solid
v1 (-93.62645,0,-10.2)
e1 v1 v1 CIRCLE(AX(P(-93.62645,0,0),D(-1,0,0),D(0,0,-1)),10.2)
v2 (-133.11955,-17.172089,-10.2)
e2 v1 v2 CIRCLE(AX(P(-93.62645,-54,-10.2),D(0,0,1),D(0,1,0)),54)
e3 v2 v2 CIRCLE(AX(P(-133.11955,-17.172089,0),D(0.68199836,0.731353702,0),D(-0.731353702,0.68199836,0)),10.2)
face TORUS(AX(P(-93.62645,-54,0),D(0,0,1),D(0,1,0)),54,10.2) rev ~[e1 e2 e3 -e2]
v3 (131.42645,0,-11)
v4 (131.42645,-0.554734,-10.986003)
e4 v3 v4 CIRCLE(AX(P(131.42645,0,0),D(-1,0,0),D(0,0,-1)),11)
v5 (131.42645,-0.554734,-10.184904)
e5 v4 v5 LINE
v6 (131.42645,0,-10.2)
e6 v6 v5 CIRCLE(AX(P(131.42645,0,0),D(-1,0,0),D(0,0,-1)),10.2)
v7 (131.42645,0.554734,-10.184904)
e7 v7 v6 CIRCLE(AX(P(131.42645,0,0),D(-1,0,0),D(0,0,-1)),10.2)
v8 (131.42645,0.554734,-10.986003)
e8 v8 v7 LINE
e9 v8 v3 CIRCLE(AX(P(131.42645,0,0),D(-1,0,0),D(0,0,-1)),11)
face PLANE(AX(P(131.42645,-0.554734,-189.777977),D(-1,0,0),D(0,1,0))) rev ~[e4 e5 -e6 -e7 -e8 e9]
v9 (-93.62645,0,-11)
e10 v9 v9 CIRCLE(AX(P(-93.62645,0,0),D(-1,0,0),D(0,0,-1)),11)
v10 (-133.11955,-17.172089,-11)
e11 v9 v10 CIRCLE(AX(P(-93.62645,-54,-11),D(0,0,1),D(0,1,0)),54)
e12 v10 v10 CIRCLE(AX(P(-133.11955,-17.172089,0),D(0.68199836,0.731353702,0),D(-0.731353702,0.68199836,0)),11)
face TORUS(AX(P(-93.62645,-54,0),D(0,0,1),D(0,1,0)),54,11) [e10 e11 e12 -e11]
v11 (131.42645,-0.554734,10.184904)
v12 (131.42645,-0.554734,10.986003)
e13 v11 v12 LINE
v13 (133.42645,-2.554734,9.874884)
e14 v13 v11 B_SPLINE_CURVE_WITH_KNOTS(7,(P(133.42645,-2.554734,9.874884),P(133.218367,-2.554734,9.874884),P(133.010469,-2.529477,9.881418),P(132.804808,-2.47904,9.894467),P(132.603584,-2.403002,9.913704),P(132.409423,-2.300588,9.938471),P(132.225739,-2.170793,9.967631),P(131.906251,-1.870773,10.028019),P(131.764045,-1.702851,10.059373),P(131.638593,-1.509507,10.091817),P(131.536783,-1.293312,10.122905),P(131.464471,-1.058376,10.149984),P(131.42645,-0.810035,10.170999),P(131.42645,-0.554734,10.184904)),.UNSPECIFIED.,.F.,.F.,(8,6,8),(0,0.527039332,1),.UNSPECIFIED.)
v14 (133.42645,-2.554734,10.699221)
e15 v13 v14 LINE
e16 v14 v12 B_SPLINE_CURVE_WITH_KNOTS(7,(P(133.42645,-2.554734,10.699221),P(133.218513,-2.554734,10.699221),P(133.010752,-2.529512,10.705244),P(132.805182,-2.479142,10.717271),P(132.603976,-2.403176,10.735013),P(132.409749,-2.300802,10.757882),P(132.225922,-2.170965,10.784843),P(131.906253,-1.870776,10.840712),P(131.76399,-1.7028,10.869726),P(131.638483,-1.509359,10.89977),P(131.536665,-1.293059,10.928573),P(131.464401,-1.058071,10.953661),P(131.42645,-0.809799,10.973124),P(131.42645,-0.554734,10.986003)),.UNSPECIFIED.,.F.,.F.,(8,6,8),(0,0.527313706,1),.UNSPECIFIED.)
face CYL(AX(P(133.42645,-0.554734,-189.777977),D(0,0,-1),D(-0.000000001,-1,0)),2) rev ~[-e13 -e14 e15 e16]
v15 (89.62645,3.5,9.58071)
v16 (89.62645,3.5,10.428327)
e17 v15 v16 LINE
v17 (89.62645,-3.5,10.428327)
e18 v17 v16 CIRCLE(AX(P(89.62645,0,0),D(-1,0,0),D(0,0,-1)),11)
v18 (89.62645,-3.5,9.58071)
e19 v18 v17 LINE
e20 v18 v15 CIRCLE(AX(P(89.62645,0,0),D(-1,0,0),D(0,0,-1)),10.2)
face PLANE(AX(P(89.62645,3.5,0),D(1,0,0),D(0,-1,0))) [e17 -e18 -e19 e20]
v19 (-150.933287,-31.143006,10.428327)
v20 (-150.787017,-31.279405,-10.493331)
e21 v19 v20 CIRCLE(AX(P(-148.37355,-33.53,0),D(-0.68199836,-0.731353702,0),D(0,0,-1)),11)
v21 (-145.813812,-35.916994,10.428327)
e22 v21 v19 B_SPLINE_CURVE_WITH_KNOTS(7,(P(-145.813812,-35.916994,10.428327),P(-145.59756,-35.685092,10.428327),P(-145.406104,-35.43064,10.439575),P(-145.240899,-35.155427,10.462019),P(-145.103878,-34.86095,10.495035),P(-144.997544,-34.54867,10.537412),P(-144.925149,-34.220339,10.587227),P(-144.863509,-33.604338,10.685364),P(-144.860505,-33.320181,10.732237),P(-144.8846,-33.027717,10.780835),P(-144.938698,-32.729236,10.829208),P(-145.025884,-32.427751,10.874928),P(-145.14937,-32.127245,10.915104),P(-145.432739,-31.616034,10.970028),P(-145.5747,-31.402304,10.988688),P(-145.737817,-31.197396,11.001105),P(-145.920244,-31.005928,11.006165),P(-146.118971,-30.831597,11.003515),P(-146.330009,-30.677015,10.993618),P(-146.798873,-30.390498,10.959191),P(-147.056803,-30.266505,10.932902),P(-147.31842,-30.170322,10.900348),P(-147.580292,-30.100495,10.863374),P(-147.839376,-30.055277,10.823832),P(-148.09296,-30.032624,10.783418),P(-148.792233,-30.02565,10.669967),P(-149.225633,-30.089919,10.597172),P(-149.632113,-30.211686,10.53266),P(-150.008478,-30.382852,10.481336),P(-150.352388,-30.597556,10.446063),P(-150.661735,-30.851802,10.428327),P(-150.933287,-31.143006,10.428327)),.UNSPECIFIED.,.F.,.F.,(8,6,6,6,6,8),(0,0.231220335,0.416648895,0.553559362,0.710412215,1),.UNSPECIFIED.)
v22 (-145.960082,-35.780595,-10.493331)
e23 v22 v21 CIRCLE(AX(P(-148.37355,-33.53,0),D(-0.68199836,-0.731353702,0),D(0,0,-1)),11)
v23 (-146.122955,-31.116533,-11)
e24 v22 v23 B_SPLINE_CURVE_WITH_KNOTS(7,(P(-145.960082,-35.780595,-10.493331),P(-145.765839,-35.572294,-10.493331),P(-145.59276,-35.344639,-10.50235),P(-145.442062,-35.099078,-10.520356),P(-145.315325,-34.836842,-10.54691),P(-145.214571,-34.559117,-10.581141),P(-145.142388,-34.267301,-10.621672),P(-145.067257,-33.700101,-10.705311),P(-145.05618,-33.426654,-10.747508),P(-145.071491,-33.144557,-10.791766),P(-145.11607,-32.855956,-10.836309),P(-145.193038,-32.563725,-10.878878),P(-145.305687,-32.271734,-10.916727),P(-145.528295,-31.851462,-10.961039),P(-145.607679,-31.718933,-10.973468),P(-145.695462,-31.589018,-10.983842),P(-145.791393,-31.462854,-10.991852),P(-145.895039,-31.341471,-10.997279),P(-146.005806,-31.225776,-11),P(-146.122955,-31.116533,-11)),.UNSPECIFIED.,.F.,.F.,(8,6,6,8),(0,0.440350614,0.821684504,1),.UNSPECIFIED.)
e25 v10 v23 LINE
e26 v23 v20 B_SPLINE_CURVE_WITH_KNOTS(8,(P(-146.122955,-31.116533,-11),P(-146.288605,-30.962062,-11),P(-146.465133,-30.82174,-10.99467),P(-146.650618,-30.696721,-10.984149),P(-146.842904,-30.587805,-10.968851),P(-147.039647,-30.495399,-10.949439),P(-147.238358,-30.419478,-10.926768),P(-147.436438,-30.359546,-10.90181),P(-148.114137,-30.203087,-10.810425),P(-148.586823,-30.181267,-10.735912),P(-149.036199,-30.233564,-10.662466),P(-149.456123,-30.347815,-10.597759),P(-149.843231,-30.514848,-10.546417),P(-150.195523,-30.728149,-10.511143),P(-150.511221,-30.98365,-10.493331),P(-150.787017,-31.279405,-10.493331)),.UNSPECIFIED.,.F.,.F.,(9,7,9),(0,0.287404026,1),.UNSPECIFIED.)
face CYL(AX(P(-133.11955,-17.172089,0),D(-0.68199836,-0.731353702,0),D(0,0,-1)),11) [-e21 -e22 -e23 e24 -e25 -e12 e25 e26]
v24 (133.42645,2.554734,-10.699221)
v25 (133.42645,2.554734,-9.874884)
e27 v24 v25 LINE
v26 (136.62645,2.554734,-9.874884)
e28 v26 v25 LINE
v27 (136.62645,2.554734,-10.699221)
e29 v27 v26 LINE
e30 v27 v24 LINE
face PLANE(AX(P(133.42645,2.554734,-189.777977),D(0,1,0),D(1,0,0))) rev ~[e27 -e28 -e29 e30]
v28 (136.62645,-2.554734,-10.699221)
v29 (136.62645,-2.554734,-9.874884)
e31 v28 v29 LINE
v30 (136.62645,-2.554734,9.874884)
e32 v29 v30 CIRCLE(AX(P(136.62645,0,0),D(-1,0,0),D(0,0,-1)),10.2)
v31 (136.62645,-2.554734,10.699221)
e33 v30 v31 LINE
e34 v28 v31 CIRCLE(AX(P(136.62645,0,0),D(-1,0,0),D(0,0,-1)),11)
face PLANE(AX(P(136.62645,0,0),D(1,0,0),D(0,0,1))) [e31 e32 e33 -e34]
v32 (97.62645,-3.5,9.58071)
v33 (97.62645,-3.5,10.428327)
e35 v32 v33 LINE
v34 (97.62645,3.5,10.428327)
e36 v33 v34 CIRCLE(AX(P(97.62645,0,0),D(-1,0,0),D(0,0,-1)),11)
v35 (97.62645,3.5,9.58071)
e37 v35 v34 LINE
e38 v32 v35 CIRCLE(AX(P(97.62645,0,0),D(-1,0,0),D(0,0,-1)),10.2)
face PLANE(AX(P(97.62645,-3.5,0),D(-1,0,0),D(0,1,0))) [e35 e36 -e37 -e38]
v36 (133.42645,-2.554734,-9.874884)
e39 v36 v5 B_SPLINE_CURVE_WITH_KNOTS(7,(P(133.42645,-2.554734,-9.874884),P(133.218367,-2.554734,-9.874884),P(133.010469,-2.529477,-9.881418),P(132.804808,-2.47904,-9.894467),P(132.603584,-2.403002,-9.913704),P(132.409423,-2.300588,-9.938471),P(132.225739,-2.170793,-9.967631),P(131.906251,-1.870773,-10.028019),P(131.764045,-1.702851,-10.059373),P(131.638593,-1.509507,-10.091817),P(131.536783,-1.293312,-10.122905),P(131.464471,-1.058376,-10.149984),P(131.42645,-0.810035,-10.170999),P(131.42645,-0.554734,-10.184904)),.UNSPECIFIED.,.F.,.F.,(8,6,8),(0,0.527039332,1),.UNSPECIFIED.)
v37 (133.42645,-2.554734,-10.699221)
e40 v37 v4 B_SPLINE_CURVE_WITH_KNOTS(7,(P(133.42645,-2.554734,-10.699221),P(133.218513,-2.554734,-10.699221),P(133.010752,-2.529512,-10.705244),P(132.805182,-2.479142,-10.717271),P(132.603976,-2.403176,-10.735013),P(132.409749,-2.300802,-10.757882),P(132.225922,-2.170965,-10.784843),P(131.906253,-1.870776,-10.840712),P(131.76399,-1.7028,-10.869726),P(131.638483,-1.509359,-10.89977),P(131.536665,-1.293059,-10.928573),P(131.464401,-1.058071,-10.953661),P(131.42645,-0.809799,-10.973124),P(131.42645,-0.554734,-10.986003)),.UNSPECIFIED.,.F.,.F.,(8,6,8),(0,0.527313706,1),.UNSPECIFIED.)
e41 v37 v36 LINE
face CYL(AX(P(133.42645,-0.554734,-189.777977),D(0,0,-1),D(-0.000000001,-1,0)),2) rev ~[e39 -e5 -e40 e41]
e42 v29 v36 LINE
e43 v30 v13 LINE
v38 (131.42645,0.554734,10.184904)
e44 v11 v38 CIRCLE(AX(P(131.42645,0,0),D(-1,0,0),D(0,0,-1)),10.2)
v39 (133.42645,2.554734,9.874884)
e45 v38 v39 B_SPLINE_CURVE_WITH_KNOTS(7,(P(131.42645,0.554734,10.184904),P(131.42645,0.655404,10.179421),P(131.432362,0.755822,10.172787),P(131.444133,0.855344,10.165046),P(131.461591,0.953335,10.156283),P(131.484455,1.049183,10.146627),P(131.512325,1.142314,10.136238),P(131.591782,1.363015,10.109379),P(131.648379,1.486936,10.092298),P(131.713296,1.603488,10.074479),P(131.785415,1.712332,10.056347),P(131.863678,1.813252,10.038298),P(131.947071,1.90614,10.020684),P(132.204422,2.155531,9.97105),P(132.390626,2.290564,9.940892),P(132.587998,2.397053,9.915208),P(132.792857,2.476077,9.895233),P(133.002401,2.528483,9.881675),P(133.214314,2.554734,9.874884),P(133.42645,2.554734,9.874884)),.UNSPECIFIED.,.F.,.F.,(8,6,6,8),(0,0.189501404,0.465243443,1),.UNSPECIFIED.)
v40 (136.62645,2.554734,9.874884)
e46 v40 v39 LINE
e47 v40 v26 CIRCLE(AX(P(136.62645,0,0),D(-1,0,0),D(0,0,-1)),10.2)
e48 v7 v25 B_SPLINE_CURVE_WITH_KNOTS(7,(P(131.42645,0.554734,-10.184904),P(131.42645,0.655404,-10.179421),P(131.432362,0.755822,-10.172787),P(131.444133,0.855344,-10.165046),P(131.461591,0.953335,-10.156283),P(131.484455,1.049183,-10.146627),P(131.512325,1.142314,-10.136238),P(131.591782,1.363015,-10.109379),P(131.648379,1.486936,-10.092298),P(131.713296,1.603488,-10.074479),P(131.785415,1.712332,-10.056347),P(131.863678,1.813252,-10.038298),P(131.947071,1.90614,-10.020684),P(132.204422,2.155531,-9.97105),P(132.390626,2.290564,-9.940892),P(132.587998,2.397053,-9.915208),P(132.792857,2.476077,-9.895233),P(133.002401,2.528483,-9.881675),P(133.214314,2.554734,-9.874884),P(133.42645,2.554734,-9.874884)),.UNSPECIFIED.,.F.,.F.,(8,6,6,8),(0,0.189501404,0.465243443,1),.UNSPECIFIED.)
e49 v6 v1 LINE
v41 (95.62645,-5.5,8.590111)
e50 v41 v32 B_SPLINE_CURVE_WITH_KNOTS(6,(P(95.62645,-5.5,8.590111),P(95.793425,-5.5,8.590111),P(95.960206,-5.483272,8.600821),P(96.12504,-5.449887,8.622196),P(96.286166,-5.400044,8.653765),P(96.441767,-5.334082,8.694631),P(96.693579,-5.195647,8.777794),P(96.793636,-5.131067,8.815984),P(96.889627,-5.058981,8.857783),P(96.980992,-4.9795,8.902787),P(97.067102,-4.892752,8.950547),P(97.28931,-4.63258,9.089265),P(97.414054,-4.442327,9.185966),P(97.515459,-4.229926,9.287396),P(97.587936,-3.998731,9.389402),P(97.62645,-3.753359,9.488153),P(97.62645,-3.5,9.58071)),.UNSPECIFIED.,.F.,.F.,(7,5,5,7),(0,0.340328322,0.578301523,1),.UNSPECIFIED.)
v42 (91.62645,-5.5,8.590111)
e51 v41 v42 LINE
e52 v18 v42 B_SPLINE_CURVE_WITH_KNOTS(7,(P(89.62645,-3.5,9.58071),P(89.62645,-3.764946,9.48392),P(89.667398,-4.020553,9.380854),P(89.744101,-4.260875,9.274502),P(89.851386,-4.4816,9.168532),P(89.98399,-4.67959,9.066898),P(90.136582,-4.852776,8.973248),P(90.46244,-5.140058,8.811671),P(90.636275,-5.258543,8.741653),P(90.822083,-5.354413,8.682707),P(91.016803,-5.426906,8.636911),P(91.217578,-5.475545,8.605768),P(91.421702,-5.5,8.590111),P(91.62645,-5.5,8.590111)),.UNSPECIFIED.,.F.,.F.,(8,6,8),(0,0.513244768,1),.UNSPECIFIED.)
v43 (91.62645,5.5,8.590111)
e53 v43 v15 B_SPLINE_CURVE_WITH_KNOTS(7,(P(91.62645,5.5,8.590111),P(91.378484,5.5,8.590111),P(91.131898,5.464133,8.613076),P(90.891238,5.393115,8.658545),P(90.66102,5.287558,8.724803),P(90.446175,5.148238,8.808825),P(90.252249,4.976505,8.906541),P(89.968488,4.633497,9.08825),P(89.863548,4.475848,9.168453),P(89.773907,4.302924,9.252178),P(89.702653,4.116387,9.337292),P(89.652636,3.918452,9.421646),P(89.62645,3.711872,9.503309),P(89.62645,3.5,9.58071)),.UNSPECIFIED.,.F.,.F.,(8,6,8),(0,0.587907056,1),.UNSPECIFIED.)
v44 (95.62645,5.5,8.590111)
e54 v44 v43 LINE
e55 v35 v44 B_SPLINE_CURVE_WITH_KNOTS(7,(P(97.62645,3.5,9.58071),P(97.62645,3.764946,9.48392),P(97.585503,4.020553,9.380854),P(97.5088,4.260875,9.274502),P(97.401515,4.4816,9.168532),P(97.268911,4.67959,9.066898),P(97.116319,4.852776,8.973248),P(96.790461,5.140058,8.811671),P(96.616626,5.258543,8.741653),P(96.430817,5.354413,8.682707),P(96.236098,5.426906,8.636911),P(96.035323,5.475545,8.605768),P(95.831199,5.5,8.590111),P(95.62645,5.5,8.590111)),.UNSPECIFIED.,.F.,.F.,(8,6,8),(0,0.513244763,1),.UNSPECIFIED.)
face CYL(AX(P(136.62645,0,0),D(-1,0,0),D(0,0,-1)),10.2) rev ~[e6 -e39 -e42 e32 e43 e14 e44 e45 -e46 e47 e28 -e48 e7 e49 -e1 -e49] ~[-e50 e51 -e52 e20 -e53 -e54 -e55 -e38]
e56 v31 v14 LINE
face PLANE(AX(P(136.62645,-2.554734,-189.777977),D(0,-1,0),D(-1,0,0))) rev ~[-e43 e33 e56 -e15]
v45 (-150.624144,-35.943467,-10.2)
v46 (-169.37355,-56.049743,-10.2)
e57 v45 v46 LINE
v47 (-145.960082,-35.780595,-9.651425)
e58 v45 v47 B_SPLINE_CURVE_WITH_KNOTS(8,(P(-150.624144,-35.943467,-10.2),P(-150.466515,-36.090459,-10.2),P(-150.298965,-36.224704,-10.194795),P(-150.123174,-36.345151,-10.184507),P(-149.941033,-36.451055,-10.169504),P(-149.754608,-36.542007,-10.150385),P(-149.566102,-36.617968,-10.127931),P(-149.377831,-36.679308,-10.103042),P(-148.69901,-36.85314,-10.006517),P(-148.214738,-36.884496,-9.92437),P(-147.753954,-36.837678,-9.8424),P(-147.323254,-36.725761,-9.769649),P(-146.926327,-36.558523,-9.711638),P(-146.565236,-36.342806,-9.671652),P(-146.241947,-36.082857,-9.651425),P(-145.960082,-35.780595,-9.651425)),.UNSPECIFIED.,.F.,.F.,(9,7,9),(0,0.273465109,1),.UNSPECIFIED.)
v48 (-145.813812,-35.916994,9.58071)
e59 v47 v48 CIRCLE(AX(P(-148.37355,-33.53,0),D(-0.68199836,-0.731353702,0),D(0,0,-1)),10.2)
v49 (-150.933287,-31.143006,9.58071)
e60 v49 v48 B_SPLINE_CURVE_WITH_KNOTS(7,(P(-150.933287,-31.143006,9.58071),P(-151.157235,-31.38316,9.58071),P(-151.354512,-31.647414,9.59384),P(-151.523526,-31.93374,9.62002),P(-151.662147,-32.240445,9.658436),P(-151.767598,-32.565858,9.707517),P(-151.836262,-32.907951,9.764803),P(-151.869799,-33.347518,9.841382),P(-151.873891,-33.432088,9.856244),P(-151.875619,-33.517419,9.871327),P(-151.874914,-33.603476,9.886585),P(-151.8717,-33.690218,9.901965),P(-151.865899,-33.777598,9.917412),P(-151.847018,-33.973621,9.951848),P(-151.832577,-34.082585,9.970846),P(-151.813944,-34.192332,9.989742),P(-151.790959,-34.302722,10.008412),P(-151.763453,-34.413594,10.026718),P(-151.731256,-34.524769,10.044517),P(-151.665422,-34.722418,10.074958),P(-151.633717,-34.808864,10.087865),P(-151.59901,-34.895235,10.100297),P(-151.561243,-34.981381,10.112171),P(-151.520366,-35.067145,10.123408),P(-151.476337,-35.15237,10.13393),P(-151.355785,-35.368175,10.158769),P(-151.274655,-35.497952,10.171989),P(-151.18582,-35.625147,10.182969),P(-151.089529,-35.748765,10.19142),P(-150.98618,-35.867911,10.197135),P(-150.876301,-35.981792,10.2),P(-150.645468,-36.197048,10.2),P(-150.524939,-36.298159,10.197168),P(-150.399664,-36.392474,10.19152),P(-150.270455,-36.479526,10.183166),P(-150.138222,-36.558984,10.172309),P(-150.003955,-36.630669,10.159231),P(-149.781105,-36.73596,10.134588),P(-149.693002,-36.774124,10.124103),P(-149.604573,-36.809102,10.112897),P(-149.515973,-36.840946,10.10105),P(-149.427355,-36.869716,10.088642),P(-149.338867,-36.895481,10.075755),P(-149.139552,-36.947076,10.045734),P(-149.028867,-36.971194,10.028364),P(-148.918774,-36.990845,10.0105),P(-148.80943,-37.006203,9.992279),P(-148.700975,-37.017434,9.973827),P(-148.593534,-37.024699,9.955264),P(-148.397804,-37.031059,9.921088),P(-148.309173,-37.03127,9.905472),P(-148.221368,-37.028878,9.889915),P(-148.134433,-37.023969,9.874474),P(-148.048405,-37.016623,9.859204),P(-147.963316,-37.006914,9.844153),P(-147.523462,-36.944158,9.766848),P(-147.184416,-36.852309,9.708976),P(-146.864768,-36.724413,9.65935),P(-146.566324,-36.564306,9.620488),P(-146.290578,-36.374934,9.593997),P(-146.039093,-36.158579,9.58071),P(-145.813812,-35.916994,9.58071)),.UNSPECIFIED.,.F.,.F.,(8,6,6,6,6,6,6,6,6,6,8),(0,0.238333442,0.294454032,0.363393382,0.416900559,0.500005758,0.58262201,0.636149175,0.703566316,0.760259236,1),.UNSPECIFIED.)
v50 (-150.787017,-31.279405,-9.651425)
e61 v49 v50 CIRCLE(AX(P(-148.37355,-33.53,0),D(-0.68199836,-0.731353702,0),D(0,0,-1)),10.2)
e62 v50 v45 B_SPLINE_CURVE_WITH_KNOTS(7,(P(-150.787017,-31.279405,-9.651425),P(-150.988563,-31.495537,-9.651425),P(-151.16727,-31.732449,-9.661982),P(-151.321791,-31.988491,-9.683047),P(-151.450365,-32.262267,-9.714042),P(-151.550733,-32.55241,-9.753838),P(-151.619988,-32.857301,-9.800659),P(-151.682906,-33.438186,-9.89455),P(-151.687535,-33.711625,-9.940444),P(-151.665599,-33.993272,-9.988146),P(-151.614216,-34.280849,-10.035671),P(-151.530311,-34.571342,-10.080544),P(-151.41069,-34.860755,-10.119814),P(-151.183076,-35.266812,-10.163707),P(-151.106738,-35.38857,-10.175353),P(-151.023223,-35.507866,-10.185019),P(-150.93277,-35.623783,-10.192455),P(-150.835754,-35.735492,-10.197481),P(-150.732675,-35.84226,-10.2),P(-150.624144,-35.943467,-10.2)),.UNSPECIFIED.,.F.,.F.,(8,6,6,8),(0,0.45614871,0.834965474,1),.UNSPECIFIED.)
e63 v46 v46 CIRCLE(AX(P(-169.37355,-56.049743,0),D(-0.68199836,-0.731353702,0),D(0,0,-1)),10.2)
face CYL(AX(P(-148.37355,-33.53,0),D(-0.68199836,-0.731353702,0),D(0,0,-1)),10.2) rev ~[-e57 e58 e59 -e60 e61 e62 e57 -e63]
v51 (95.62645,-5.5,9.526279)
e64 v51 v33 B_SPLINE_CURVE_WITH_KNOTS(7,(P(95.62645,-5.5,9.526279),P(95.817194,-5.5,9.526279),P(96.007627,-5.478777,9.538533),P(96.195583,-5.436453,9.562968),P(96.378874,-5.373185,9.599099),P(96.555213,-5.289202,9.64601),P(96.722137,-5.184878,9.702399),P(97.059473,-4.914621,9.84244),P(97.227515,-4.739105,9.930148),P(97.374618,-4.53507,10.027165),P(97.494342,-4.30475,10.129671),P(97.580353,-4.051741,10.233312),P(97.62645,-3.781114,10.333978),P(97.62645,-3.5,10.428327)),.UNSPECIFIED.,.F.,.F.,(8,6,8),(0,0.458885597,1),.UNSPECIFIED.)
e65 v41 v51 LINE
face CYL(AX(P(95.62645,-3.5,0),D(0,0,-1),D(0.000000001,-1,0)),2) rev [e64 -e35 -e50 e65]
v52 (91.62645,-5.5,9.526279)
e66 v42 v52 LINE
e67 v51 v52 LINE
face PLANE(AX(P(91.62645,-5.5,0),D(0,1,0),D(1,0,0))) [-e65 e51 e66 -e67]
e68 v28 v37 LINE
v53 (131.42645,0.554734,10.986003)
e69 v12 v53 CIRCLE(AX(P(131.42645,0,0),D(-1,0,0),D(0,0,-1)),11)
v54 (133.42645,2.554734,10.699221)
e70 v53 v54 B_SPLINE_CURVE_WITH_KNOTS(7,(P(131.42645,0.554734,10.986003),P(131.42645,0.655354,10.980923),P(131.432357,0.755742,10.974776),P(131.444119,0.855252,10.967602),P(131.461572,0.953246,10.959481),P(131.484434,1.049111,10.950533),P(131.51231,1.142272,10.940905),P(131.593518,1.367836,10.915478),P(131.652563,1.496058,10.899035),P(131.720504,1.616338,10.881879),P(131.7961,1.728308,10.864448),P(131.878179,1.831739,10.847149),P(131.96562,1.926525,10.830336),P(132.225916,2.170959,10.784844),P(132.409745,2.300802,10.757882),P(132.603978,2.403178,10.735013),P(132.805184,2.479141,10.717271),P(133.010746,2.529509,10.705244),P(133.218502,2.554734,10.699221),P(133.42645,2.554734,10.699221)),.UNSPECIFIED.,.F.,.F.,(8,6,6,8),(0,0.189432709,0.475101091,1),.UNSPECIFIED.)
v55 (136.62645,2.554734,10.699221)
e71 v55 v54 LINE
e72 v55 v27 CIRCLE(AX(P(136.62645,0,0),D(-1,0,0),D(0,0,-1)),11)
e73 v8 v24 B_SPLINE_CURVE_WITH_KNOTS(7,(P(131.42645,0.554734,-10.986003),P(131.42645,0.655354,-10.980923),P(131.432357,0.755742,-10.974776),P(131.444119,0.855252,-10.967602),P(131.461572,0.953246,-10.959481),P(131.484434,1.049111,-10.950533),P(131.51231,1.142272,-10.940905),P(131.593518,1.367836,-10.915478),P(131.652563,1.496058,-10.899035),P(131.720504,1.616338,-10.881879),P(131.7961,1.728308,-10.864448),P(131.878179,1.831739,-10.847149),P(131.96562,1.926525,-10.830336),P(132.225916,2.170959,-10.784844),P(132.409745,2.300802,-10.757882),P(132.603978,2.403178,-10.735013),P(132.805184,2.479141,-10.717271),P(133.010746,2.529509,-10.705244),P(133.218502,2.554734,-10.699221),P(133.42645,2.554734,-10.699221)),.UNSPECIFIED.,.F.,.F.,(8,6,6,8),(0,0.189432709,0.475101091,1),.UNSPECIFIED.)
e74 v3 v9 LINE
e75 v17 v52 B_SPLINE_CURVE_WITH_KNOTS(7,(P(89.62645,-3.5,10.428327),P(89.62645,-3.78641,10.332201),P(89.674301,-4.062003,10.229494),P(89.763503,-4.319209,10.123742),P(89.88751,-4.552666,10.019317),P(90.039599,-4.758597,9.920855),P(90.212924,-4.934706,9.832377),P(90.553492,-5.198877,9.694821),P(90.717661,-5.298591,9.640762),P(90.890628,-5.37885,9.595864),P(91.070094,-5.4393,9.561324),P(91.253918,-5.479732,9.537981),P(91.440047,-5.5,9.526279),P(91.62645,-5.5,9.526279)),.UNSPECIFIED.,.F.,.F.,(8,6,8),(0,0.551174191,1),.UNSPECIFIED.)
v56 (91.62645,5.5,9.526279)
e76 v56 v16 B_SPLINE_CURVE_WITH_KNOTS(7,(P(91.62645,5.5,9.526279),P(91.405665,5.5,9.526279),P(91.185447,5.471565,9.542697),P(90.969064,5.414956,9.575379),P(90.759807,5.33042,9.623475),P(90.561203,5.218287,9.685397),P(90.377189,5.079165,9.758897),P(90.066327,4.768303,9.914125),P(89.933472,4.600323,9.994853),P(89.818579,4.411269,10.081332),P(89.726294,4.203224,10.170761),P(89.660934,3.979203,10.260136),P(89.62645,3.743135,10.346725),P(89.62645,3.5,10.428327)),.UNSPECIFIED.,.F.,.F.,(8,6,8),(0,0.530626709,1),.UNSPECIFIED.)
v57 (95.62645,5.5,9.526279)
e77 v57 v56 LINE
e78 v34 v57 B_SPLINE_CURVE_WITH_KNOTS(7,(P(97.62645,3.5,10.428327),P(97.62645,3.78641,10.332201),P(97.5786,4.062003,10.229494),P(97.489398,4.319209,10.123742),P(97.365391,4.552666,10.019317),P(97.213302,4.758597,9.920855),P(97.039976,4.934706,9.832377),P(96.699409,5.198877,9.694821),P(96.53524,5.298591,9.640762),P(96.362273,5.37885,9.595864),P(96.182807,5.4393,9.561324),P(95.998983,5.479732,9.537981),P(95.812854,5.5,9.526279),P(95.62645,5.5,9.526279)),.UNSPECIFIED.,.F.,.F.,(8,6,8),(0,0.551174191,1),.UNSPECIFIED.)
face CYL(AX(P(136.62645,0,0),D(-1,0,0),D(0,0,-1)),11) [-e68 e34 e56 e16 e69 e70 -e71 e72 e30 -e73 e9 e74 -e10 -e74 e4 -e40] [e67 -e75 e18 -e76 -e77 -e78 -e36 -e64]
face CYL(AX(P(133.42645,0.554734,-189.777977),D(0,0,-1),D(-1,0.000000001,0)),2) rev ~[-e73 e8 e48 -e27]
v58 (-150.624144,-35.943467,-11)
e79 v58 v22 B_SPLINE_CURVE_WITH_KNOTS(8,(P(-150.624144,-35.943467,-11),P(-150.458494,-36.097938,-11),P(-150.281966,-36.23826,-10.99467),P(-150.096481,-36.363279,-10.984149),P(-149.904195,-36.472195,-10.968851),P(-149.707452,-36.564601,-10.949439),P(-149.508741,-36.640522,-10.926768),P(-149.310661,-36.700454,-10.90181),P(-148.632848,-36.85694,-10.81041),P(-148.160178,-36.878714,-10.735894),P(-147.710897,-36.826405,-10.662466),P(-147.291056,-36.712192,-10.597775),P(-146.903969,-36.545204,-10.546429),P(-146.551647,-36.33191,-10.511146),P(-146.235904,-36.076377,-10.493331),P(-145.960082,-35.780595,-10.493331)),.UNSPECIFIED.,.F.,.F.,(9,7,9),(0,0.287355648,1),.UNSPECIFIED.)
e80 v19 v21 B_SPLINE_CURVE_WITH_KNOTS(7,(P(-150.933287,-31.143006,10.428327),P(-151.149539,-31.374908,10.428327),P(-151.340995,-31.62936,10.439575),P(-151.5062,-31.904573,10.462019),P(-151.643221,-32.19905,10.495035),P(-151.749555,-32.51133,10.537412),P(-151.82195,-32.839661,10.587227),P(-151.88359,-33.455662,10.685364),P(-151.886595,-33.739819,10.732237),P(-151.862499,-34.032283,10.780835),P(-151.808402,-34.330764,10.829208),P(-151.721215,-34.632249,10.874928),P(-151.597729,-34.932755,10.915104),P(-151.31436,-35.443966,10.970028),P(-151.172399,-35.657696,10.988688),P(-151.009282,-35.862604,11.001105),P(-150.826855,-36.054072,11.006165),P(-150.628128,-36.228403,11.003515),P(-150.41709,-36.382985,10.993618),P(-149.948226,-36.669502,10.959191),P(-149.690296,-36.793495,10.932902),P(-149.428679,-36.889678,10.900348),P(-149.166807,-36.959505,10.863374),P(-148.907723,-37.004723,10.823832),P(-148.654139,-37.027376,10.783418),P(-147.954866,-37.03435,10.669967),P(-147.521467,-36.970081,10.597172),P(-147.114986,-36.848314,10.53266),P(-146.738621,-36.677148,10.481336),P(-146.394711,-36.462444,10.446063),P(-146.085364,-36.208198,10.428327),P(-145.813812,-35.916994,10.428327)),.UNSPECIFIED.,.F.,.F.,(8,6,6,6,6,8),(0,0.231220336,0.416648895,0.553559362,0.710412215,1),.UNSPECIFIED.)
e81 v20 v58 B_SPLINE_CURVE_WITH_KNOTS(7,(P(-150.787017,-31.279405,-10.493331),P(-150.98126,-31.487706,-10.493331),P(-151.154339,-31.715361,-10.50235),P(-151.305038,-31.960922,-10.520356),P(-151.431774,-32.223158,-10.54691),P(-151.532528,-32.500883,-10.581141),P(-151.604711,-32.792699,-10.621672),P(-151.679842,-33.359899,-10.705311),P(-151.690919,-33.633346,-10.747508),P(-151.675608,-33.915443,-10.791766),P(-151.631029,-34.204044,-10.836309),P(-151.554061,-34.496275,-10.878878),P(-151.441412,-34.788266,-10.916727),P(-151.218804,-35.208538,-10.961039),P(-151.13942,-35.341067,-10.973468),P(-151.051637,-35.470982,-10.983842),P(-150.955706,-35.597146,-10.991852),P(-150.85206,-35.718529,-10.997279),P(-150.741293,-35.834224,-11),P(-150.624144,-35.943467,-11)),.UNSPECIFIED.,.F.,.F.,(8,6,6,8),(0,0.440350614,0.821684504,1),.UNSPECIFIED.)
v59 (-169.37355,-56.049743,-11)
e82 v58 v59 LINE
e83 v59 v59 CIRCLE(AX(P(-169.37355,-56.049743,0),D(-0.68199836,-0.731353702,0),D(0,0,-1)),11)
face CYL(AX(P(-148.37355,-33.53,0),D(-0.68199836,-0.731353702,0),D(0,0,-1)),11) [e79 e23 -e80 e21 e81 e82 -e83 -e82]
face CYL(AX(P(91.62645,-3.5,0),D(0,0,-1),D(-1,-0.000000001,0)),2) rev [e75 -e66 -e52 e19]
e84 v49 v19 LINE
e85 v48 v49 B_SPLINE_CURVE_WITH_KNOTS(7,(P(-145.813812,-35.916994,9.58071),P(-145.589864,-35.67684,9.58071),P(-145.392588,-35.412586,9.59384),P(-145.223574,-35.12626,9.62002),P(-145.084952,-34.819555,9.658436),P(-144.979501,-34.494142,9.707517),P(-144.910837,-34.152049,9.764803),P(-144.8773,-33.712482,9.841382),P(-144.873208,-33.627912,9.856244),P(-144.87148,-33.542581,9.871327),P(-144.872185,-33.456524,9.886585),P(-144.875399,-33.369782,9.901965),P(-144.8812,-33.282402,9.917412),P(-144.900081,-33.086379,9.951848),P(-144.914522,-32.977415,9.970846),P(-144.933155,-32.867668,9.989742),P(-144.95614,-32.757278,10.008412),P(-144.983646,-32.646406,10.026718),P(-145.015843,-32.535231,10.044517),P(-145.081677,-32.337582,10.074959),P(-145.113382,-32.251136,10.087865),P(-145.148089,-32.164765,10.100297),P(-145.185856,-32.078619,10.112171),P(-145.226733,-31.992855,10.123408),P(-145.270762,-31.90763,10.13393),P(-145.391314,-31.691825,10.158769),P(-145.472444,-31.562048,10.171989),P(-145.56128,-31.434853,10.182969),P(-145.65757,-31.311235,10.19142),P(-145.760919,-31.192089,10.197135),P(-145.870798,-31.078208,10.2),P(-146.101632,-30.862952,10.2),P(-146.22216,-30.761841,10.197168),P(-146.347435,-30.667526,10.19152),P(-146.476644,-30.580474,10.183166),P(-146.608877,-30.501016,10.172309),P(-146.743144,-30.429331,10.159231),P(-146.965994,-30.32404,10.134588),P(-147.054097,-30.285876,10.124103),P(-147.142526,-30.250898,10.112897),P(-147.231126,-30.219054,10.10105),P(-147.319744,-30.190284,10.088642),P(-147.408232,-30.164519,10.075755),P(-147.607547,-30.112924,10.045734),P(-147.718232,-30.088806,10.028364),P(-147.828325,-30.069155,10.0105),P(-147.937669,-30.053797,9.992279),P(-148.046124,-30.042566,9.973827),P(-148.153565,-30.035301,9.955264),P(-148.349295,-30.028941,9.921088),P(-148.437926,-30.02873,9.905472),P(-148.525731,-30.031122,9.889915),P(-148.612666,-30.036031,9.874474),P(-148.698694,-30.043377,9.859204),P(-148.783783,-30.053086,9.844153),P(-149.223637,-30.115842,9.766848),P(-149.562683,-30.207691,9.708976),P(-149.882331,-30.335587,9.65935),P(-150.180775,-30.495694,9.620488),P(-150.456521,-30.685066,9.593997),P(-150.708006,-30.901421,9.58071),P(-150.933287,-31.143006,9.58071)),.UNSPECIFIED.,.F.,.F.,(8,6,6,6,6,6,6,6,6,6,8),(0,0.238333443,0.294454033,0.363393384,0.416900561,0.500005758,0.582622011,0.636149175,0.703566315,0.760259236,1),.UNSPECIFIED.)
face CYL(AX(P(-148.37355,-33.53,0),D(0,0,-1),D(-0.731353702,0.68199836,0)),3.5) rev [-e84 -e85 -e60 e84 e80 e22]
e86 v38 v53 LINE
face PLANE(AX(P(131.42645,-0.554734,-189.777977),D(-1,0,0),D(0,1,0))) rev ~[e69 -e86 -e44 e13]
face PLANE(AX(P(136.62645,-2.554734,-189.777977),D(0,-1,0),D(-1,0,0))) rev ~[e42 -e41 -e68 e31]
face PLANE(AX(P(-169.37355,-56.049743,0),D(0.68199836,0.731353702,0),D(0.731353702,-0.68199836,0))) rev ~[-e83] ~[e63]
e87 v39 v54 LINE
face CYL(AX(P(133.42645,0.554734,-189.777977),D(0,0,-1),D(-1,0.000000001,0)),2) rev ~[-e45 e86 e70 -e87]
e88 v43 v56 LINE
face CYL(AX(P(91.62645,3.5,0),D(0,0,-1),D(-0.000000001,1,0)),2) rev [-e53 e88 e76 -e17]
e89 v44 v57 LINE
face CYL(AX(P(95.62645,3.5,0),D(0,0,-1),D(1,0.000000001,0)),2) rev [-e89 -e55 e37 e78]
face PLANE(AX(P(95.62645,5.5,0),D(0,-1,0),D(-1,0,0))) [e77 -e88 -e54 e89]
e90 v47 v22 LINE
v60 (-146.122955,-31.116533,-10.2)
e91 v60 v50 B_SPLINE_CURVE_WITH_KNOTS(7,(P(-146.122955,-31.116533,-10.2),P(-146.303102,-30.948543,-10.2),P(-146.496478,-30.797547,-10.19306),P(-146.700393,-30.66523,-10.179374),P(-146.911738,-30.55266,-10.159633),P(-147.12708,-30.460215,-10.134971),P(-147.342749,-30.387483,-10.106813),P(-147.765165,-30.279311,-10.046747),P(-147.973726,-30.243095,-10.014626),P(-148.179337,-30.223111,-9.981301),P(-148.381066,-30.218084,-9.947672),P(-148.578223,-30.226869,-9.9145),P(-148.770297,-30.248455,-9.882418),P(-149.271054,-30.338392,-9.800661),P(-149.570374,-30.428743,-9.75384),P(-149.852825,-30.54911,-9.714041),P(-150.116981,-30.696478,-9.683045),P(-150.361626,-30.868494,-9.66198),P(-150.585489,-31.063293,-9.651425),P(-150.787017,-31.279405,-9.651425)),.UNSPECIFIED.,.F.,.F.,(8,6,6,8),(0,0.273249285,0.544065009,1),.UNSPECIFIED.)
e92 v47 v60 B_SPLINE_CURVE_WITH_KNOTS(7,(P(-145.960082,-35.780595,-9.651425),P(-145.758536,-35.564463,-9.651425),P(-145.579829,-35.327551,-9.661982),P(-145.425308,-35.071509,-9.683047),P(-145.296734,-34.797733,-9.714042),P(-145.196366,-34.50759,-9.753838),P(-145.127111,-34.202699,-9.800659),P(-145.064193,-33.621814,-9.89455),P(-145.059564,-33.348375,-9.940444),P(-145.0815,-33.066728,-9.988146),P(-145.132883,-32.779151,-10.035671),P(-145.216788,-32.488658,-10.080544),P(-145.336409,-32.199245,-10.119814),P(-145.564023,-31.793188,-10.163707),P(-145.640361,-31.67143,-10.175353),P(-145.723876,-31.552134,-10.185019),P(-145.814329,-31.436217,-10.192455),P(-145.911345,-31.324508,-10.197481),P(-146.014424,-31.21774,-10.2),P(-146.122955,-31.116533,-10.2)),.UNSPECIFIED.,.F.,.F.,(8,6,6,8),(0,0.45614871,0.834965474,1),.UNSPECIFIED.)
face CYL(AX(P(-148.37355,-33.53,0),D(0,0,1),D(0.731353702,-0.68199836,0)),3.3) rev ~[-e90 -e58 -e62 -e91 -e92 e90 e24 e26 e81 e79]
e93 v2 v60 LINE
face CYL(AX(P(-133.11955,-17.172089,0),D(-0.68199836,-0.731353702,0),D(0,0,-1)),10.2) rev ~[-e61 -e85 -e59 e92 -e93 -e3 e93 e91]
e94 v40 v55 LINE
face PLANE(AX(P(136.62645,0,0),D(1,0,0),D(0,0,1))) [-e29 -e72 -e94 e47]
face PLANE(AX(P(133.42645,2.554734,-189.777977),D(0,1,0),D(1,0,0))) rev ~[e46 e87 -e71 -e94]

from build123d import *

# Parameters (mm, degrees)
SKETCH3_R               = 11
SKETCH3_R_2             = 10.2
CUT_EXTRUDE1_REACH      = 190.778
SKETCH4_R               = 3.5
SKETCH5_R               = 3.3
CUT_EXTRUDE2_DEPTH      = 189.777977341
CUT_EXTRUDE3_DEPTH      = 189.777977341
CUT_EXTRUDE3_DEPTH_BACK = 189.777977341


with BuildPart() as part:
    # Sweep2: sweep along a path in Sketch1
    with BuildLine(Plane.XY) as sweep2_path:
        Line((136.626450457, 0), (93.626450457, 0))
        Line((93.626450457, 0), (-93.626450457, 0))
        ThreePointArc((-93.626450457, 0), (-115.158900179, -4.478755983), (-133.119550344, -17.172088557))
        Line((-133.119550344, -17.172088557), (-148.373549543, -33.53))
        Line((-148.373549543, -33.53), (-169.373549543, -56.049742911))
    # Sketch3 → Sweep2 (sweep)
    with BuildSketch(Plane(origin=(93.626450457, 0, 0), x_dir=(0, 0, -1), z_dir=(1, 0, 0))):
        Circle(SKETCH3_R)
        Circle(SKETCH3_R_2, mode=Mode.SUBTRACT)
    sweep(path=sweep2_path.line)

    # Sketch4 → Cut-Extrude1 (cut, up to next)
    with BuildSketch(Plane.XY, mode=Mode.PRIVATE) as cut_extrude1_sk1:
        with Locations((-148.373549543, -33.53)):
            Circle(SKETCH4_R)
    cut_extrude1_tool1 = extrude(cut_extrude1_sk1.sketch, amount=CUT_EXTRUDE1_REACH, mode=Mode.PRIVATE) & part.part
    # Sketch4 → Cut-Extrude1 (cut, up to next)
    with BuildSketch(Plane.XY, mode=Mode.PRIVATE) as cut_extrude1_sk2:
        with BuildLine():
            Line((91.626450457, -5.5), (95.626450457, -5.5))
            ThreePointArc((95.626450457, -5.5), (97.040664019, -4.914213562), (97.626450457, -3.5))
            Line((97.626450457, -3.5), (97.626450457, 3.5))
            ThreePointArc((97.626450457, 3.5), (97.040664019, 4.914213562), (95.626450457, 5.5))
            Line((95.626450457, 5.5), (91.626450457, 5.5))
            ThreePointArc((91.626450457, 5.5), (90.212236895, 4.914213562), (89.626450457, 3.5))
            Line((89.626450457, 3.5), (89.626450457, -3.5))
            ThreePointArc((89.626450457, -3.5), (90.212236895, -4.914213562), (91.626450457, -5.5))
        make_face()
    cut_extrude1_tool2 = extrude(cut_extrude1_sk2.sketch, amount=CUT_EXTRUDE1_REACH, mode=Mode.PRIVATE) & part.part
    add(cut_extrude1_tool1.solids().sort_by_distance((-148.37355, -33.53, 0))[0], mode=Mode.SUBTRACT)
    add(cut_extrude1_tool2.solids().sort_by_distance((93.62645, 0, 0))[0], mode=Mode.SUBTRACT)

    # Sketch5 → Cut-Extrude2 (cut, through all)
    with BuildSketch(Plane.XY):
        with Locations((-148.373549543, -33.53)):
            Circle(SKETCH5_R)
    extrude(amount=-CUT_EXTRUDE2_DEPTH, mode=Mode.SUBTRACT)

    # Sketch6 → Cut-Extrude3 (cut, two sides: drawn at the far end of the back side and taken through both)
    with BuildSketch(Plane.XY.offset(-CUT_EXTRUDE3_DEPTH_BACK)):
        with BuildLine():
            Line((136.700236513, 2.554733627), (136.626450457, -2.554733627))
            Line((136.626450457, -2.554733627), (133.426450457, -2.554733627))
            ThreePointArc((133.426450457, -2.554733627), (132.012236895, -1.968947189), (131.426450457, -0.554733627))
            Line((131.426450457, -0.554733627), (131.426450457, 0.554733627))
            ThreePointArc((131.426450457, 0.554733627), (132.012236895, 1.968947189), (133.426450457, 2.554733627))
            Line((133.426450457, 2.554733627), (136.700236513, 2.554733627))
        make_face()
    extrude(amount=CUT_EXTRUDE3_DEPTH + CUT_EXTRUDE3_DEPTH_BACK, mode=Mode.SUBTRACT)


solid = part.part
